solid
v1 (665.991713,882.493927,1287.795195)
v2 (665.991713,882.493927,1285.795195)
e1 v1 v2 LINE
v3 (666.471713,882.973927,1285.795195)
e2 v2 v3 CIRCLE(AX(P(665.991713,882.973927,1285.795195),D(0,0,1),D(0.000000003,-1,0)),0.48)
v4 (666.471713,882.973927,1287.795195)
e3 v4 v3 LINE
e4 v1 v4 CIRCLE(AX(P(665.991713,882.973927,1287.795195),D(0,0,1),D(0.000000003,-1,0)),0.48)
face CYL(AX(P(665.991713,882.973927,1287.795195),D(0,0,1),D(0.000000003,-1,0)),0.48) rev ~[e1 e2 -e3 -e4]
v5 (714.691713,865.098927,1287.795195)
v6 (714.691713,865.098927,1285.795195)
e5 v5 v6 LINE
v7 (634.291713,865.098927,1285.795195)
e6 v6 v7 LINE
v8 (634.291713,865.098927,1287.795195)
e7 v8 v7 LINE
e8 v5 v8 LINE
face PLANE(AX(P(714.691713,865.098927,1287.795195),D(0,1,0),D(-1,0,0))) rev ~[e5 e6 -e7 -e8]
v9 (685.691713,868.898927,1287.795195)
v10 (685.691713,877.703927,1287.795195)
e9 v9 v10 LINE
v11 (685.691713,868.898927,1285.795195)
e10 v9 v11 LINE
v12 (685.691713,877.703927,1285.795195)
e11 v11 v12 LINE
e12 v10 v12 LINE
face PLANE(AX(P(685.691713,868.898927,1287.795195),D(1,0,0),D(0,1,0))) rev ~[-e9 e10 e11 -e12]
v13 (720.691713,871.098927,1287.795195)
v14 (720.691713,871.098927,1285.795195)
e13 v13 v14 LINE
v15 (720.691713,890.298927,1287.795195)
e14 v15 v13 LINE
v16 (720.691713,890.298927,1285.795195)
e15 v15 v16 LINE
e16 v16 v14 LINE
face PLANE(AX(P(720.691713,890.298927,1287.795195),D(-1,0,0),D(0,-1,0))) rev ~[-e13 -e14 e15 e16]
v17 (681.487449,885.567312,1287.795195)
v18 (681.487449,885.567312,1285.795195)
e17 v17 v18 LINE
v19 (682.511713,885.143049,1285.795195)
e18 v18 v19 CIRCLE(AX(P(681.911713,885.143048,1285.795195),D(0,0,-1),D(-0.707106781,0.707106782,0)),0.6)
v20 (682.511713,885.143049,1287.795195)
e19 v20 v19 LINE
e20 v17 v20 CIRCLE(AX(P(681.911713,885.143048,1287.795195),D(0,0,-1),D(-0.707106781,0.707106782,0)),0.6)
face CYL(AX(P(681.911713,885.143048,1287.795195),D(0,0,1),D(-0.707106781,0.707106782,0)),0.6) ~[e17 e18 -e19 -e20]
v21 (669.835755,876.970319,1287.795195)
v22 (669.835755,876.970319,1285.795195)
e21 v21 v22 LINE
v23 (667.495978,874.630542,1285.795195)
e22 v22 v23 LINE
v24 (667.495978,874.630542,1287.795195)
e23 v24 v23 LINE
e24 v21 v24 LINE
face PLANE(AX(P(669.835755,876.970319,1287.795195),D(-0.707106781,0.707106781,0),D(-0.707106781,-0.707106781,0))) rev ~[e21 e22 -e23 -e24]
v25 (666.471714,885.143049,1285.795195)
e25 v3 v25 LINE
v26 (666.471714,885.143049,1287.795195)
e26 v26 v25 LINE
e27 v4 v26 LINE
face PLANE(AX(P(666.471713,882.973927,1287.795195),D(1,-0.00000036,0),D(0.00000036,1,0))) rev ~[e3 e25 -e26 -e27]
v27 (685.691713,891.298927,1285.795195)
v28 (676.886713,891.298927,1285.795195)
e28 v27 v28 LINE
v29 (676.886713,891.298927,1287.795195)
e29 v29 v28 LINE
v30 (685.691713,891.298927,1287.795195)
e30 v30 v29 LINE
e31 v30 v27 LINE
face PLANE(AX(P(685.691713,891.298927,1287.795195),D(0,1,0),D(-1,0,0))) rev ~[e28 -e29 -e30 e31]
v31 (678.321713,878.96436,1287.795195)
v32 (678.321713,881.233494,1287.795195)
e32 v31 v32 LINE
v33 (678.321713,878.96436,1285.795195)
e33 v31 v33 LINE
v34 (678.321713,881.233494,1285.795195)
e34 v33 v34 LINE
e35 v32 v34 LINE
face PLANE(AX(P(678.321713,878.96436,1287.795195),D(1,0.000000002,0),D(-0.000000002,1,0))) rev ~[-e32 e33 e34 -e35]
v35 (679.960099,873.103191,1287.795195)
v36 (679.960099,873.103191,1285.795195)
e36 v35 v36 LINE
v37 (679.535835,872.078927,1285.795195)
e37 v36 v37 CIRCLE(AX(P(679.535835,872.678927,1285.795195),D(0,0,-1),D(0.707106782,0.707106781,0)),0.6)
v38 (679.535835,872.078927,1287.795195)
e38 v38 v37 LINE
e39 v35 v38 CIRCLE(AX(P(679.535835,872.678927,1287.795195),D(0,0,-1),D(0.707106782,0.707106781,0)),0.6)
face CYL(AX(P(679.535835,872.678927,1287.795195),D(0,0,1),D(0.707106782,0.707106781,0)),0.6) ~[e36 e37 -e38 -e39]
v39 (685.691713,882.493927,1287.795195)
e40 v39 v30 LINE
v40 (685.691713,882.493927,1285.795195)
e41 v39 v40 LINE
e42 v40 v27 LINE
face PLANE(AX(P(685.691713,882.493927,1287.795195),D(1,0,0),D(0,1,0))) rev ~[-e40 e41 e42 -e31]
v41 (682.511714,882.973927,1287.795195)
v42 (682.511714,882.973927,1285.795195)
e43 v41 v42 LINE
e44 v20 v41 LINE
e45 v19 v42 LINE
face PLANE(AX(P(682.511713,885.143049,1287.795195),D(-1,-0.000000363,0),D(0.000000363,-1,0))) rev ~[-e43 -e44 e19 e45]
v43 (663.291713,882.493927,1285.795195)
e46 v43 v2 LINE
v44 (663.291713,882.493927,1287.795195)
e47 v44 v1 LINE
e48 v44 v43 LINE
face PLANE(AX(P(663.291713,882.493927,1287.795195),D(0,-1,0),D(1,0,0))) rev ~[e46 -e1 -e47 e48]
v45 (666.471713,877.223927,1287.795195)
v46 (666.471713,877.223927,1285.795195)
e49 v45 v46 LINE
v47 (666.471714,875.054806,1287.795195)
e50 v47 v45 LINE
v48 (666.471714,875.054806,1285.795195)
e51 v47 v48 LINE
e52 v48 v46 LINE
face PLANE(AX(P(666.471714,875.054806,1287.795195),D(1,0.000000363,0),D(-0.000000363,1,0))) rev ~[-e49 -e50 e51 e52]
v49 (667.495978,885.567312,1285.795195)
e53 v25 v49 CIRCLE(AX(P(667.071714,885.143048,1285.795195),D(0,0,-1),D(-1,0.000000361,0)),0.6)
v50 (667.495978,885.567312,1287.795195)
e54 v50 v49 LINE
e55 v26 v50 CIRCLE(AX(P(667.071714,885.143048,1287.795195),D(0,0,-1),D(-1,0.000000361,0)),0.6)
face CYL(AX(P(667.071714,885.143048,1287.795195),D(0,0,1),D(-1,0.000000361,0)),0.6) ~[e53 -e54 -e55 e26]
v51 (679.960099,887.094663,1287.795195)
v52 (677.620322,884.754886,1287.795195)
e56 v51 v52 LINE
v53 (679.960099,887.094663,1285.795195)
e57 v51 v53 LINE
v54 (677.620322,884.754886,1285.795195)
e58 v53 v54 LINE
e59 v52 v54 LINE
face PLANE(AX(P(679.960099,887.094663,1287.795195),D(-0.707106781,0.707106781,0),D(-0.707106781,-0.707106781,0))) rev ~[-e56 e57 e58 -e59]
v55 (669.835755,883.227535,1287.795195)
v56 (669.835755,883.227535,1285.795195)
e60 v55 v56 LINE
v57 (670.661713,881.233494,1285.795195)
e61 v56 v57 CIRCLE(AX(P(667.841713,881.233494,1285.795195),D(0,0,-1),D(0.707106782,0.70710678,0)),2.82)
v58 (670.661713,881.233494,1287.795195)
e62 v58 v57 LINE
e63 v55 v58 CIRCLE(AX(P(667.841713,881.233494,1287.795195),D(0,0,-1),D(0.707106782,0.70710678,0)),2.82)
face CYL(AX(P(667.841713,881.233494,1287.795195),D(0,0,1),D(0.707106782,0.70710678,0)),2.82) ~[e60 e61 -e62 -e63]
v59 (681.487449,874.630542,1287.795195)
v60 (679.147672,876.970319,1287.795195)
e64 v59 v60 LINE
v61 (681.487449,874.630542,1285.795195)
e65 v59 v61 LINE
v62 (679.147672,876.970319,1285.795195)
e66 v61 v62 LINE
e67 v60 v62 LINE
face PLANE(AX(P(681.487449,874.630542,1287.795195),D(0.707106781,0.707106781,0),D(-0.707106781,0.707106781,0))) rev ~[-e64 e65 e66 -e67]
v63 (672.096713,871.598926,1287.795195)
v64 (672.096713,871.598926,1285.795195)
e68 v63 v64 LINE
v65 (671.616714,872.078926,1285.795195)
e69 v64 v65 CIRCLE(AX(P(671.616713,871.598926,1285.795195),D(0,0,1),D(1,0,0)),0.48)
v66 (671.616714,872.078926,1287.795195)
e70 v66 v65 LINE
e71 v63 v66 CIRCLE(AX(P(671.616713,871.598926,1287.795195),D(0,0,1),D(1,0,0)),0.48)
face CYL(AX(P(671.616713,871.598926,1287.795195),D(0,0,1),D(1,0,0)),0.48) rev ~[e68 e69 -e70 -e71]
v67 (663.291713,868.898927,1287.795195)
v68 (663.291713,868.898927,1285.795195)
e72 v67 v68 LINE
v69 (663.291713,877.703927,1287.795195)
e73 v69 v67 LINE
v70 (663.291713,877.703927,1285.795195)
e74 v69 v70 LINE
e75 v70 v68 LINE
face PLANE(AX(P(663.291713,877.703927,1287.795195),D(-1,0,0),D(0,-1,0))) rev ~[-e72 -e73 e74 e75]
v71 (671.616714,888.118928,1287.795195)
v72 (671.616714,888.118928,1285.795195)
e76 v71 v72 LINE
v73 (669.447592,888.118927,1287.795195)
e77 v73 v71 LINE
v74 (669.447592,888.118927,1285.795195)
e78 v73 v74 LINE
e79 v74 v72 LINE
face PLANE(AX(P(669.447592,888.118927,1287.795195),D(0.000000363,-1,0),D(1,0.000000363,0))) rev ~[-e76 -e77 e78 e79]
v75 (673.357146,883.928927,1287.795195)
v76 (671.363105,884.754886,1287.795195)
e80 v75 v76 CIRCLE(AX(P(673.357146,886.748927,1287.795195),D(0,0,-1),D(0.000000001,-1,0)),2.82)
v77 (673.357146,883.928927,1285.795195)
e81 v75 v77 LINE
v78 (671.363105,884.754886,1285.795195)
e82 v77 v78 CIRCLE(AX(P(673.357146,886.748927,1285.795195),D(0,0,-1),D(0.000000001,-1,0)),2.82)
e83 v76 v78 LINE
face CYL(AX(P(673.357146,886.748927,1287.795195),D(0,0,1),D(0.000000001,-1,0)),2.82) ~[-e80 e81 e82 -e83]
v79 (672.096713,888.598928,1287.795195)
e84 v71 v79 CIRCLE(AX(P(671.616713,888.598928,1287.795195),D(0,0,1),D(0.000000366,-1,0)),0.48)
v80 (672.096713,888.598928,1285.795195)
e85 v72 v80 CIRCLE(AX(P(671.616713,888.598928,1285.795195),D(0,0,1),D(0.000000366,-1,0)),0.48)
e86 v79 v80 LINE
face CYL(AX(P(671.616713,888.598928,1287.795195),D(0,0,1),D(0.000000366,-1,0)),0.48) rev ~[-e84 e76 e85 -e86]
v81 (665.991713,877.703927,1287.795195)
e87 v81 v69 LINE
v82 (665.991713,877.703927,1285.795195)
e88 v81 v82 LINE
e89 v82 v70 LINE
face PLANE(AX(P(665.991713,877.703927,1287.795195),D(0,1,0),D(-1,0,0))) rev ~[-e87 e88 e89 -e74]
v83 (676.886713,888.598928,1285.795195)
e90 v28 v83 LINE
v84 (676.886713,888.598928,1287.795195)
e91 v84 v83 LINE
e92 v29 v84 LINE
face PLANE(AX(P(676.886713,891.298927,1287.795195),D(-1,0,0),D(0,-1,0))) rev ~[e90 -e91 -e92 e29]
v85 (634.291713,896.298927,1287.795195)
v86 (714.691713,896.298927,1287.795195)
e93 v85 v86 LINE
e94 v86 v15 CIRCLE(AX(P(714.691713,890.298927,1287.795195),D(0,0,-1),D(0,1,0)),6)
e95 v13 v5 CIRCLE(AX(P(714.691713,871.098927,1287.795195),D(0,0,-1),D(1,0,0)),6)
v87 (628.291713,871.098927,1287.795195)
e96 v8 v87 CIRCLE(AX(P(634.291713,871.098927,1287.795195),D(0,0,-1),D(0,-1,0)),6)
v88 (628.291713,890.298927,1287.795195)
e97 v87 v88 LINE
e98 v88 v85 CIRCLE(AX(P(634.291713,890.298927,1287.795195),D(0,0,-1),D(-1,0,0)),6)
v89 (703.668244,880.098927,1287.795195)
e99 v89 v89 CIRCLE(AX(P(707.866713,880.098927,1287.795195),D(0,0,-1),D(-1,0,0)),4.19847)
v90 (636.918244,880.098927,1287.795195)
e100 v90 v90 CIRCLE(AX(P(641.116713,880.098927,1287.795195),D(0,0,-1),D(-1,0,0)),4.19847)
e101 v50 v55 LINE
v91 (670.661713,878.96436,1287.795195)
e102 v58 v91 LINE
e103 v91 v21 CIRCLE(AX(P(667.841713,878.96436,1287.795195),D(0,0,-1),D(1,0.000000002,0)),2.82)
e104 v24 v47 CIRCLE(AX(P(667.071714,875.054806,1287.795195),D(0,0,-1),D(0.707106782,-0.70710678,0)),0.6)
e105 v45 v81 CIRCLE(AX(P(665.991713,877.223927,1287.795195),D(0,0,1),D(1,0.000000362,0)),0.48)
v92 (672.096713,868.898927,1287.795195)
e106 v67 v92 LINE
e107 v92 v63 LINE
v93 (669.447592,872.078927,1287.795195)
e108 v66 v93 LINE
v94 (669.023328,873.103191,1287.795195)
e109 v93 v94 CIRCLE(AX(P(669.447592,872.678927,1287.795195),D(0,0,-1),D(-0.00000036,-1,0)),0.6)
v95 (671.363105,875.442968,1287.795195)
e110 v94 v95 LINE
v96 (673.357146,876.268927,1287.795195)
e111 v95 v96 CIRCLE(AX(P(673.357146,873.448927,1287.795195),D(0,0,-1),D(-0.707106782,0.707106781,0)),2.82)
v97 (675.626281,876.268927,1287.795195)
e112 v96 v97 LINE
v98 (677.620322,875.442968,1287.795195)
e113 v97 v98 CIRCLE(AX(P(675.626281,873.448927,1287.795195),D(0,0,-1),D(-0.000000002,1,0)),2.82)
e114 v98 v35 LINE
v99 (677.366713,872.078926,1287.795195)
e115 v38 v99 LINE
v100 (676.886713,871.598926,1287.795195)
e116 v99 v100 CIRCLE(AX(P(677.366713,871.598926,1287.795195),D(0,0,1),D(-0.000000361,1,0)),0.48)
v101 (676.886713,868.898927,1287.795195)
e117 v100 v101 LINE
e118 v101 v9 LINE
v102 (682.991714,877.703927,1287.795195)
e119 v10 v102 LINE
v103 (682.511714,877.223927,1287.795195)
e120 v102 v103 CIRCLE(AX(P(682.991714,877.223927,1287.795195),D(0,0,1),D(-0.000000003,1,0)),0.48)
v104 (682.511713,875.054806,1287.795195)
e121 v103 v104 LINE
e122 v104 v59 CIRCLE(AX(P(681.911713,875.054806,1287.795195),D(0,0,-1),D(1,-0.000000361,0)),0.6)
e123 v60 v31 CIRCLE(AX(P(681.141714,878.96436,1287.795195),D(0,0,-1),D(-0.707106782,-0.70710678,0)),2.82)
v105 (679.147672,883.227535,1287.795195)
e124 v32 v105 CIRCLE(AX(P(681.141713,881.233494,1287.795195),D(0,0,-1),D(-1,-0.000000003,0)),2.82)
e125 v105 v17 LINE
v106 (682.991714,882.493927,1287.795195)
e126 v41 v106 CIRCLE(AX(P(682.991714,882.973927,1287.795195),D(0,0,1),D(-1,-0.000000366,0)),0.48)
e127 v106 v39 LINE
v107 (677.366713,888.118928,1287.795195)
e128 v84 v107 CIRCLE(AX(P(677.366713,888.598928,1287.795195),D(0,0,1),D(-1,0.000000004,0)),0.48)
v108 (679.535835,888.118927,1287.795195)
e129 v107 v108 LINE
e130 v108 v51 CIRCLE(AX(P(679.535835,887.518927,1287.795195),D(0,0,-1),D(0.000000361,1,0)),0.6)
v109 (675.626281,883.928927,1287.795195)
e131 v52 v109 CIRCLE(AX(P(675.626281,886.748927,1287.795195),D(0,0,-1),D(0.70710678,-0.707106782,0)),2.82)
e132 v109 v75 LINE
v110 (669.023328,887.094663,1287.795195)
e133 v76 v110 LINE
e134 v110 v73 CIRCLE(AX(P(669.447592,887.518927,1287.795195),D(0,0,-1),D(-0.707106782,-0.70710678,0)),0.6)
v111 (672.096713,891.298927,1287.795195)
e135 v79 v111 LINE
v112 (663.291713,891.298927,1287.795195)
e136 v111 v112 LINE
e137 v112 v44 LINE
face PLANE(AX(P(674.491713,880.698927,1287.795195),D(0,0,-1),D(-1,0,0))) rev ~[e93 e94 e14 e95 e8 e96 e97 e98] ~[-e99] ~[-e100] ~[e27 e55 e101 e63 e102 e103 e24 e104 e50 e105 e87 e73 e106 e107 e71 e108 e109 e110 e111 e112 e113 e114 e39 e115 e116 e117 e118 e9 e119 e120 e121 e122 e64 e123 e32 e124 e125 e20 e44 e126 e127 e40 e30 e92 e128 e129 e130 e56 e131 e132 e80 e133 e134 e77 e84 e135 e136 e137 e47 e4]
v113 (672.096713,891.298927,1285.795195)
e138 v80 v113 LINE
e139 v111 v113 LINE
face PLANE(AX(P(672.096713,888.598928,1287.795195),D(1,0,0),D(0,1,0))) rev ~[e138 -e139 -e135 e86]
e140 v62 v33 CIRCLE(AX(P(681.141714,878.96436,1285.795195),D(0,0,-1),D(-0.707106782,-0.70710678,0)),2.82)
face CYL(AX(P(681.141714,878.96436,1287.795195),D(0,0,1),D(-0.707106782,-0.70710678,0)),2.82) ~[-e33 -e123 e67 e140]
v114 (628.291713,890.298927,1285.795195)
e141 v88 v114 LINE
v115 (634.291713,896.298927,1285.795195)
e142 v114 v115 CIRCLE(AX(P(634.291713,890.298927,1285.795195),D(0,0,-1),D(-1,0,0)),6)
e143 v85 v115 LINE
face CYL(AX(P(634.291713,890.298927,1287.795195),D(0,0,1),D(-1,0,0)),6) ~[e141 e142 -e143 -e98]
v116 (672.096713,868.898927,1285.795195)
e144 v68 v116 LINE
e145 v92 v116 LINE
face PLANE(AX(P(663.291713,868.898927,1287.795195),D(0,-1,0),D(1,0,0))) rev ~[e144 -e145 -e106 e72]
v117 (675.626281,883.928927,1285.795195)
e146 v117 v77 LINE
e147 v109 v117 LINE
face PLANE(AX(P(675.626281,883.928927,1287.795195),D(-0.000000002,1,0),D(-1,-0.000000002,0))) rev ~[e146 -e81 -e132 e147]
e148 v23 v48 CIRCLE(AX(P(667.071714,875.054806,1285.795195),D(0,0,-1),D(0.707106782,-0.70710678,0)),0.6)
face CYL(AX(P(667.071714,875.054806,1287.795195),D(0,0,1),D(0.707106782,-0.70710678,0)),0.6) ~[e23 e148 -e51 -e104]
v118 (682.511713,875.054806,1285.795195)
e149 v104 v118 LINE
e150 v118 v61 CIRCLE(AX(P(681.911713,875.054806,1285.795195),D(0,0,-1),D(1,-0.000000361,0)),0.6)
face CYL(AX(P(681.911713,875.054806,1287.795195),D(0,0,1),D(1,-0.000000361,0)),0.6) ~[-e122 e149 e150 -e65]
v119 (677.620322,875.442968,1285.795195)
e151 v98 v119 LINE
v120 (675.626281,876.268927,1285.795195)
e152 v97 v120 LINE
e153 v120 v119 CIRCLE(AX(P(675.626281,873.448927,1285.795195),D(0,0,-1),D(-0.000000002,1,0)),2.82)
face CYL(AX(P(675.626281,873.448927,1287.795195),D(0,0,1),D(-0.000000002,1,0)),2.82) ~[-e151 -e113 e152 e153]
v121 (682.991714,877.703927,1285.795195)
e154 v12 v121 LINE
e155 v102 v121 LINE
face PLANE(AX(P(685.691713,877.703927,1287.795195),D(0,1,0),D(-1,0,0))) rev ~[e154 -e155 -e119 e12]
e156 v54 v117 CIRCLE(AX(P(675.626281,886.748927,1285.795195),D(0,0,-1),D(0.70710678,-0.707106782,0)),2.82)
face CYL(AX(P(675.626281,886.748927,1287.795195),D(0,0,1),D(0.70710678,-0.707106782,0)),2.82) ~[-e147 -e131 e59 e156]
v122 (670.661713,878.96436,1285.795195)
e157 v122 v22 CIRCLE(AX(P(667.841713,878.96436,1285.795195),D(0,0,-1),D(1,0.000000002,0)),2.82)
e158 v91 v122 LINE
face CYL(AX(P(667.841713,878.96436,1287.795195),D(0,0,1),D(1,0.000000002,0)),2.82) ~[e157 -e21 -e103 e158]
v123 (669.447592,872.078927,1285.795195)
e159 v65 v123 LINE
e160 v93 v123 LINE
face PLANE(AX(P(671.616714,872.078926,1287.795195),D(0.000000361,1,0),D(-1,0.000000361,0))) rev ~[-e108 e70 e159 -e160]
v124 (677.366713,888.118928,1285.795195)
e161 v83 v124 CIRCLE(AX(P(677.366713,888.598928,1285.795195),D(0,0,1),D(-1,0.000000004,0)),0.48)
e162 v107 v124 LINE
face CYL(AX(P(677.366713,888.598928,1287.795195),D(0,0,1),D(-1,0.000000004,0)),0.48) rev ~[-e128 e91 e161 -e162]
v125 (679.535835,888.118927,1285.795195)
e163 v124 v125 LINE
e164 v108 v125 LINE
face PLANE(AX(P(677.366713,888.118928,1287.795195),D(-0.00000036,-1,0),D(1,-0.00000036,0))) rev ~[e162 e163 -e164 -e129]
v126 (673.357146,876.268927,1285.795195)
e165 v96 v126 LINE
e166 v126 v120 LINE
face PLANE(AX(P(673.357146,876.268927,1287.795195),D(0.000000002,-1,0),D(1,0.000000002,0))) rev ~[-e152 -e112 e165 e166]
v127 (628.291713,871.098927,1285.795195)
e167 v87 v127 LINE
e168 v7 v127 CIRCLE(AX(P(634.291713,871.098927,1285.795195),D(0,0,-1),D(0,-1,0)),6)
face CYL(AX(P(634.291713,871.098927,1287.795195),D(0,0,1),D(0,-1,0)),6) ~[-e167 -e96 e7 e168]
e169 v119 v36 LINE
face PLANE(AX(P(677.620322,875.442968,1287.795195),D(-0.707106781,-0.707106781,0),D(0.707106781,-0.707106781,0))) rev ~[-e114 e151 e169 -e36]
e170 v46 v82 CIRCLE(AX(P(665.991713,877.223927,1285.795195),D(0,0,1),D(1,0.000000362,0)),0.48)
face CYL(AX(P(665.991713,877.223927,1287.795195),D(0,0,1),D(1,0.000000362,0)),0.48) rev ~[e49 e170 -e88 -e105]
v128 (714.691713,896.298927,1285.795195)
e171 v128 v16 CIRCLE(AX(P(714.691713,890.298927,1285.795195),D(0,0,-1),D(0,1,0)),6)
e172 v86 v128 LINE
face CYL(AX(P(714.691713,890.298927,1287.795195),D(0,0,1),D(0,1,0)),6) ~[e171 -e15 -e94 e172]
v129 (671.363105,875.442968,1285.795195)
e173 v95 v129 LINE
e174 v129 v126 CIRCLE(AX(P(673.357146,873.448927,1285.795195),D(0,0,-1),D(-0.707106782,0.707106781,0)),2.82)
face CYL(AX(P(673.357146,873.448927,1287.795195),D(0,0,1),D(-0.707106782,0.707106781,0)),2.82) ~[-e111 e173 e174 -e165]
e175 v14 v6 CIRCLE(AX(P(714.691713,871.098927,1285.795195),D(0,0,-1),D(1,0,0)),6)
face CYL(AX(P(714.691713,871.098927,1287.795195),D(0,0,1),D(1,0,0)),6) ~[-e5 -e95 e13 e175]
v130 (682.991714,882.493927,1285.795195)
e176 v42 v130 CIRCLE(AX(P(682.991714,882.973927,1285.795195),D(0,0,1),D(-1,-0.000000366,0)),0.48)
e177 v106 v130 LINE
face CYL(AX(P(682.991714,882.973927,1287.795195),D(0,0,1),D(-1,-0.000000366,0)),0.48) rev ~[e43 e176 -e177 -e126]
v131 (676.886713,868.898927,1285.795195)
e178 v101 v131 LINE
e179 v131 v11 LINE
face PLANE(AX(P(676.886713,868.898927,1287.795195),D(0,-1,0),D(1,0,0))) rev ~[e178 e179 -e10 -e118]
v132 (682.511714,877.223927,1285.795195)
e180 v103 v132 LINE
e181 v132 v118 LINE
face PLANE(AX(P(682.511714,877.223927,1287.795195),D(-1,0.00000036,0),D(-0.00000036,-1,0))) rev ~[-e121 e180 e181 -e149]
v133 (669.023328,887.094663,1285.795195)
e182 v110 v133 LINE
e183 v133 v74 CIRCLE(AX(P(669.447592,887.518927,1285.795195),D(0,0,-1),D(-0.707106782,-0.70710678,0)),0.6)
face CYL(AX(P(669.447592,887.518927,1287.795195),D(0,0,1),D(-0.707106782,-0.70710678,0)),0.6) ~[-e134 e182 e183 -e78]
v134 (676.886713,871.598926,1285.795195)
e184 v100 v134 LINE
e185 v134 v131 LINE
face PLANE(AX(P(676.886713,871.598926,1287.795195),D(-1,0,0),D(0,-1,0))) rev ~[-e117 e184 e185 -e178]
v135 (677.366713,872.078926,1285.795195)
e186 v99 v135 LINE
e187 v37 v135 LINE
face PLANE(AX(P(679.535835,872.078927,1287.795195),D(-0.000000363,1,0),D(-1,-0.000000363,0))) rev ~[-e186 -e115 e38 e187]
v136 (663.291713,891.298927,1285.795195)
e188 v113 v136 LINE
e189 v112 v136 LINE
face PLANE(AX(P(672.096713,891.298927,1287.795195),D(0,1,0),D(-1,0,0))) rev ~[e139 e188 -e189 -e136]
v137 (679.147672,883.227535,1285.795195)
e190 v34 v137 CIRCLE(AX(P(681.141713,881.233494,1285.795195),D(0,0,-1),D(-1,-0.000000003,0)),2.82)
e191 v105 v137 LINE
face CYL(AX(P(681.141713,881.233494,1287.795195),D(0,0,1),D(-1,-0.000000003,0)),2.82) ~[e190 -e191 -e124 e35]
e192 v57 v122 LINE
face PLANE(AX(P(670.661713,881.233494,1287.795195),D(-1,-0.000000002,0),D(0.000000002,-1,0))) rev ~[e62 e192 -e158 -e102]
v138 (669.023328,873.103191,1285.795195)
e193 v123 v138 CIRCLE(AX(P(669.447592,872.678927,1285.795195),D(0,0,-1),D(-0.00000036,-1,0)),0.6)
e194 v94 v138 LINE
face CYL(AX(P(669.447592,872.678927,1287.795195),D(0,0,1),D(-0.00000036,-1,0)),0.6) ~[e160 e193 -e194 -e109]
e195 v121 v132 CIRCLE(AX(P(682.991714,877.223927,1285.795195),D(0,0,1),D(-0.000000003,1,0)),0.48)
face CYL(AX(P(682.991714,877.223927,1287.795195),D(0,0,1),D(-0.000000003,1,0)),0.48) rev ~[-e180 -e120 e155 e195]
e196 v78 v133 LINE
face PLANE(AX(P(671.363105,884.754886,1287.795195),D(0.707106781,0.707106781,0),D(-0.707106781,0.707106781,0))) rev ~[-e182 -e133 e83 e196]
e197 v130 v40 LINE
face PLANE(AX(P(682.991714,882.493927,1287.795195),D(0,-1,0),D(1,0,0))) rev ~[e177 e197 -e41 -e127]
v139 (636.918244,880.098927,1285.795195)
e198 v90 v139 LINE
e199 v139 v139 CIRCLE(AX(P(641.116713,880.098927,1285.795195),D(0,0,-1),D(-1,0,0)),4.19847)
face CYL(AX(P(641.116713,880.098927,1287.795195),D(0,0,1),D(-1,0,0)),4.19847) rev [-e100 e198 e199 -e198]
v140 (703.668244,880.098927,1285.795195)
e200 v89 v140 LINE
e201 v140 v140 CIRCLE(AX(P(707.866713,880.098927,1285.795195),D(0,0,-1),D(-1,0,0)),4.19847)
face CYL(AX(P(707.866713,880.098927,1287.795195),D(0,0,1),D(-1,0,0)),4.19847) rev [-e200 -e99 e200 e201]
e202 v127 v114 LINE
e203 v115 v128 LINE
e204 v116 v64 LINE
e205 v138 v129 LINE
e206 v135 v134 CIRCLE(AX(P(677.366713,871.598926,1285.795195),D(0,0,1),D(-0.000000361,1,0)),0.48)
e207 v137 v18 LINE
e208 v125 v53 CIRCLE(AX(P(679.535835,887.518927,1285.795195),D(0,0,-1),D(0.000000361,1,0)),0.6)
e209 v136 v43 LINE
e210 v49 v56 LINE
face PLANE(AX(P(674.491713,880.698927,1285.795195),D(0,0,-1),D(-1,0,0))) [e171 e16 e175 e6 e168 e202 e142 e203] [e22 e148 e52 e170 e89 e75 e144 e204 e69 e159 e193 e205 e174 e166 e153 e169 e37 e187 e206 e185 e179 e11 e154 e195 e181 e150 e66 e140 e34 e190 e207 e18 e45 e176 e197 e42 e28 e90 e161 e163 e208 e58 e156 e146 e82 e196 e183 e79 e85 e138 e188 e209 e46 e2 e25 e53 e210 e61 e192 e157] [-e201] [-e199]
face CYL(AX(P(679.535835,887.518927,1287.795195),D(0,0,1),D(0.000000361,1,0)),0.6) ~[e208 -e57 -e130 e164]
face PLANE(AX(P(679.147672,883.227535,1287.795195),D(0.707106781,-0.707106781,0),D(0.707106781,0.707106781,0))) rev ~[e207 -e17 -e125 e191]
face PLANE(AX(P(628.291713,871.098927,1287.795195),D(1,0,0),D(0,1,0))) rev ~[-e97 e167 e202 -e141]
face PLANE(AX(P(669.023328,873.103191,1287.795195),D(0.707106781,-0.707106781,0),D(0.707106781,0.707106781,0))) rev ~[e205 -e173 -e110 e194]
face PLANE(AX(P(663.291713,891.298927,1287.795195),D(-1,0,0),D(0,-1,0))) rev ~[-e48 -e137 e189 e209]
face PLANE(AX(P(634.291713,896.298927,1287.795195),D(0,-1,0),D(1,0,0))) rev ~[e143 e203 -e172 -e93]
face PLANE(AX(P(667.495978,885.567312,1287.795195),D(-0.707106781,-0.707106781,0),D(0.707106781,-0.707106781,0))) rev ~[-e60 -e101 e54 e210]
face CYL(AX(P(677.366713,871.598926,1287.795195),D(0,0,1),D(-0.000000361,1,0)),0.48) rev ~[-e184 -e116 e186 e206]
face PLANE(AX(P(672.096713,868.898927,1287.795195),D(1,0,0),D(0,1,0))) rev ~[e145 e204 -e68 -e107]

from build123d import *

# Parameters (mm, degrees)
SKETCH1_R           = 4.198469776
BOSS_EXTRUDE1_DEPTH = 2


with BuildPart() as part:
    # Sketch1 → Boss-Extrude1 (new body)
    with BuildSketch(Plane(origin=(0, 0, 1287.795194646), x_dir=(-1, 0, 0), z_dir=(0, 0, -1))):
        with BuildLine():
            Line((-628.291713491, 871.098927157), (-628.291713491, 890.298927157))
            ThreePointArc((-628.291713491, 890.298927157), (-630.049072803, 894.541567844), (-634.291713491, 896.298927157))
            Line((-634.291713491, 896.298927157), (-714.691713491, 896.298927157))
            ThreePointArc((-714.691713491, 896.298927157), (-718.934354178, 894.541567844), (-720.691713491, 890.298927157))
            Line((-720.691713491, 890.298927157), (-720.691713491, 871.098927157))
            ThreePointArc((-720.691713491, 871.098927157), (-718.934354178, 866.85628647), (-714.691713491, 865.098927157))
            Line((-714.691713491, 865.098927157), (-634.291713491, 865.098927157))
            ThreePointArc((-634.291713491, 865.098927157), (-630.049072803, 866.85628647), (-628.291713491, 871.098927157))
        make_face()
        with Locations((-707.866713491, 880.098927157)):
            Circle(SKETCH1_R, mode=Mode.SUBTRACT)
        with Locations((-641.116713491, 880.098927157)):
            Circle(SKETCH1_R, mode=Mode.SUBTRACT)
        with BuildLine():
            Line((-682.991714253, 882.493927157), (-685.691713491, 882.493927157))
            Line((-685.691713491, 882.493927157), (-685.691713491, 891.298927157))
            Line((-685.691713491, 891.298927157), (-676.886713491, 891.298927157))
            Line((-676.886713491, 891.298927157), (-676.886713491, 888.59892792))
            ThreePointArc((-676.886713491, 888.59892792), (-677.027302174, 888.259516726), (-677.366713318, 888.11892792))
            Line((-677.366713318, 888.11892792), (-679.535834903, 888.118927139))
            ThreePointArc((-679.535834903, 888.118927139), (-680.090162448, 887.748537098), (-679.960098756, 887.09466307))
            Line((-679.960098756, 887.09466307), (-677.620321725, 884.754886039))
            ThreePointArc((-677.620321725, 884.754886039), (-676.705447884, 884.143586882), (-675.626280608, 883.928927162))
            Line((-675.626280608, 883.928927162), (-673.357146389, 883.928927157))
            ThreePointArc((-673.357146389, 883.928927157), (-672.277979107, 884.143586875), (-671.363105261, 884.754886034))
            Line((-671.363105261, 884.754886034), (-669.023328231, 887.094663064))
            ThreePointArc((-669.023328231, 887.094663064), (-668.893264539, 887.748537091), (-669.447592082, 888.118927133))
            Line((-669.447592082, 888.118927133), (-671.616713665, 888.11892792))
            ThreePointArc((-671.616713665, 888.11892792), (-671.956124807, 888.259516727), (-672.096713491, 888.59892792))
            Line((-672.096713491, 888.59892792), (-672.096713491, 891.298927157))
            Line((-672.096713491, 891.298927157), (-663.291713491, 891.298927157))
            Line((-663.291713491, 891.298927157), (-663.291713491, 882.493927157))
            Line((-663.291713491, 882.493927157), (-665.991712728, 882.493927157))
            ThreePointArc((-665.991712728, 882.493927157), (-666.331123921, 882.634515841), (-666.471712728, 882.973926984))
            Line((-666.471712728, 882.973926984), (-666.471713509, 885.14304857))
            ThreePointArc((-666.471713509, 885.14304857), (-666.84210355, 885.697376115), (-667.495977578, 885.567312423))
            Line((-667.495977578, 885.567312423), (-669.835754609, 883.227535392))
            ThreePointArc((-669.835754609, 883.227535392), (-670.447053766, 882.312661551), (-670.661713486, 881.233494275))
            Line((-670.661713486, 881.233494275), (-670.66171349, 878.964360056))
            ThreePointArc((-670.66171349, 878.964360056), (-670.447053773, 877.885192774), (-669.835754613, 876.970318927))
            Line((-669.835754613, 876.970318927), (-667.495977584, 874.630541898))
            ThreePointArc((-667.495977584, 874.630541898), (-666.842103556, 874.500478205), (-666.471713515, 875.054805749))
            Line((-666.471713515, 875.054805749), (-666.471712728, 877.223927331))
            ThreePointArc((-666.471712728, 877.223927331), (-666.331123921, 877.563338474), (-665.991712728, 877.703927157))
            Line((-665.991712728, 877.703927157), (-663.291713491, 877.703927157))
            Line((-663.291713491, 877.703927157), (-663.291713491, 868.898927157))
            Line((-663.291713491, 868.898927157), (-672.096713491, 868.898927157))
            Line((-672.096713491, 868.898927157), (-672.096713491, 871.598926394))
            ThreePointArc((-672.096713491, 871.598926394), (-671.956124807, 871.938337588), (-671.616713663, 872.078926394))
            Line((-671.616713663, 872.078926394), (-669.447592078, 872.078927176))
            ThreePointArc((-669.447592078, 872.078927176), (-668.893264533, 872.449317216), (-669.023328225, 873.103191245))
            Line((-669.023328225, 873.103191245), (-671.363105256, 875.442968275))
            ThreePointArc((-671.363105256, 875.442968275), (-672.277979097, 876.054267433), (-673.357146373, 876.268927152))
            Line((-673.357146373, 876.268927152), (-675.626280592, 876.268927157))
            ThreePointArc((-675.626280592, 876.268927157), (-676.705447874, 876.05426744), (-677.62032172, 875.44296828))
            Line((-677.62032172, 875.44296828), (-679.96009875, 873.103191251))
            ThreePointArc((-679.96009875, 873.103191251), (-680.090162442, 872.449317223), (-679.535834899, 872.078927182))
            Line((-679.535834899, 872.078927182), (-677.366713316, 872.078926394))
            ThreePointArc((-677.366713316, 872.078926394), (-677.027302174, 871.938337588), (-676.886713491, 871.598926394))
            Line((-676.886713491, 871.598926394), (-676.886713491, 868.898927157))
            Line((-676.886713491, 868.898927157), (-685.691713491, 868.898927157))
            Line((-685.691713491, 868.898927157), (-685.691713491, 877.703927157))
            Line((-685.691713491, 877.703927157), (-682.991714253, 877.703927157))
            ThreePointArc((-682.991714253, 877.703927157), (-682.65230306, 877.563338473), (-682.511714253, 877.22392733))
            Line((-682.511714253, 877.22392733), (-682.511713472, 875.054805744))
            ThreePointArc((-682.511713472, 875.054805744), (-682.141323432, 874.5004782), (-681.487449403, 874.630541892))
            Line((-681.487449403, 874.630541892), (-679.147672372, 876.970318923))
            ThreePointArc((-679.147672372, 876.970318923), (-678.536373215, 877.885192764), (-678.321713495, 878.96436004))
            Line((-678.321713495, 878.96436004), (-678.321713491, 881.233494258))
            ThreePointArc((-678.321713491, 881.233494258), (-678.536373208, 882.312661541), (-679.147672368, 883.227535387))
            Line((-679.147672368, 883.227535387), (-681.487449397, 885.567312417))
            ThreePointArc((-681.487449397, 885.567312417), (-682.141323425, 885.697376109), (-682.511713466, 885.143048566))
            Line((-682.511713466, 885.143048566), (-682.511714253, 882.973926983))
            ThreePointArc((-682.511714253, 882.973926983), (-682.65230306, 882.634515841), (-682.991714253, 882.493927157))
        make_face(mode=Mode.SUBTRACT)
    extrude(amount=BOSS_EXTRUDE1_DEPTH)


solid = part.part
